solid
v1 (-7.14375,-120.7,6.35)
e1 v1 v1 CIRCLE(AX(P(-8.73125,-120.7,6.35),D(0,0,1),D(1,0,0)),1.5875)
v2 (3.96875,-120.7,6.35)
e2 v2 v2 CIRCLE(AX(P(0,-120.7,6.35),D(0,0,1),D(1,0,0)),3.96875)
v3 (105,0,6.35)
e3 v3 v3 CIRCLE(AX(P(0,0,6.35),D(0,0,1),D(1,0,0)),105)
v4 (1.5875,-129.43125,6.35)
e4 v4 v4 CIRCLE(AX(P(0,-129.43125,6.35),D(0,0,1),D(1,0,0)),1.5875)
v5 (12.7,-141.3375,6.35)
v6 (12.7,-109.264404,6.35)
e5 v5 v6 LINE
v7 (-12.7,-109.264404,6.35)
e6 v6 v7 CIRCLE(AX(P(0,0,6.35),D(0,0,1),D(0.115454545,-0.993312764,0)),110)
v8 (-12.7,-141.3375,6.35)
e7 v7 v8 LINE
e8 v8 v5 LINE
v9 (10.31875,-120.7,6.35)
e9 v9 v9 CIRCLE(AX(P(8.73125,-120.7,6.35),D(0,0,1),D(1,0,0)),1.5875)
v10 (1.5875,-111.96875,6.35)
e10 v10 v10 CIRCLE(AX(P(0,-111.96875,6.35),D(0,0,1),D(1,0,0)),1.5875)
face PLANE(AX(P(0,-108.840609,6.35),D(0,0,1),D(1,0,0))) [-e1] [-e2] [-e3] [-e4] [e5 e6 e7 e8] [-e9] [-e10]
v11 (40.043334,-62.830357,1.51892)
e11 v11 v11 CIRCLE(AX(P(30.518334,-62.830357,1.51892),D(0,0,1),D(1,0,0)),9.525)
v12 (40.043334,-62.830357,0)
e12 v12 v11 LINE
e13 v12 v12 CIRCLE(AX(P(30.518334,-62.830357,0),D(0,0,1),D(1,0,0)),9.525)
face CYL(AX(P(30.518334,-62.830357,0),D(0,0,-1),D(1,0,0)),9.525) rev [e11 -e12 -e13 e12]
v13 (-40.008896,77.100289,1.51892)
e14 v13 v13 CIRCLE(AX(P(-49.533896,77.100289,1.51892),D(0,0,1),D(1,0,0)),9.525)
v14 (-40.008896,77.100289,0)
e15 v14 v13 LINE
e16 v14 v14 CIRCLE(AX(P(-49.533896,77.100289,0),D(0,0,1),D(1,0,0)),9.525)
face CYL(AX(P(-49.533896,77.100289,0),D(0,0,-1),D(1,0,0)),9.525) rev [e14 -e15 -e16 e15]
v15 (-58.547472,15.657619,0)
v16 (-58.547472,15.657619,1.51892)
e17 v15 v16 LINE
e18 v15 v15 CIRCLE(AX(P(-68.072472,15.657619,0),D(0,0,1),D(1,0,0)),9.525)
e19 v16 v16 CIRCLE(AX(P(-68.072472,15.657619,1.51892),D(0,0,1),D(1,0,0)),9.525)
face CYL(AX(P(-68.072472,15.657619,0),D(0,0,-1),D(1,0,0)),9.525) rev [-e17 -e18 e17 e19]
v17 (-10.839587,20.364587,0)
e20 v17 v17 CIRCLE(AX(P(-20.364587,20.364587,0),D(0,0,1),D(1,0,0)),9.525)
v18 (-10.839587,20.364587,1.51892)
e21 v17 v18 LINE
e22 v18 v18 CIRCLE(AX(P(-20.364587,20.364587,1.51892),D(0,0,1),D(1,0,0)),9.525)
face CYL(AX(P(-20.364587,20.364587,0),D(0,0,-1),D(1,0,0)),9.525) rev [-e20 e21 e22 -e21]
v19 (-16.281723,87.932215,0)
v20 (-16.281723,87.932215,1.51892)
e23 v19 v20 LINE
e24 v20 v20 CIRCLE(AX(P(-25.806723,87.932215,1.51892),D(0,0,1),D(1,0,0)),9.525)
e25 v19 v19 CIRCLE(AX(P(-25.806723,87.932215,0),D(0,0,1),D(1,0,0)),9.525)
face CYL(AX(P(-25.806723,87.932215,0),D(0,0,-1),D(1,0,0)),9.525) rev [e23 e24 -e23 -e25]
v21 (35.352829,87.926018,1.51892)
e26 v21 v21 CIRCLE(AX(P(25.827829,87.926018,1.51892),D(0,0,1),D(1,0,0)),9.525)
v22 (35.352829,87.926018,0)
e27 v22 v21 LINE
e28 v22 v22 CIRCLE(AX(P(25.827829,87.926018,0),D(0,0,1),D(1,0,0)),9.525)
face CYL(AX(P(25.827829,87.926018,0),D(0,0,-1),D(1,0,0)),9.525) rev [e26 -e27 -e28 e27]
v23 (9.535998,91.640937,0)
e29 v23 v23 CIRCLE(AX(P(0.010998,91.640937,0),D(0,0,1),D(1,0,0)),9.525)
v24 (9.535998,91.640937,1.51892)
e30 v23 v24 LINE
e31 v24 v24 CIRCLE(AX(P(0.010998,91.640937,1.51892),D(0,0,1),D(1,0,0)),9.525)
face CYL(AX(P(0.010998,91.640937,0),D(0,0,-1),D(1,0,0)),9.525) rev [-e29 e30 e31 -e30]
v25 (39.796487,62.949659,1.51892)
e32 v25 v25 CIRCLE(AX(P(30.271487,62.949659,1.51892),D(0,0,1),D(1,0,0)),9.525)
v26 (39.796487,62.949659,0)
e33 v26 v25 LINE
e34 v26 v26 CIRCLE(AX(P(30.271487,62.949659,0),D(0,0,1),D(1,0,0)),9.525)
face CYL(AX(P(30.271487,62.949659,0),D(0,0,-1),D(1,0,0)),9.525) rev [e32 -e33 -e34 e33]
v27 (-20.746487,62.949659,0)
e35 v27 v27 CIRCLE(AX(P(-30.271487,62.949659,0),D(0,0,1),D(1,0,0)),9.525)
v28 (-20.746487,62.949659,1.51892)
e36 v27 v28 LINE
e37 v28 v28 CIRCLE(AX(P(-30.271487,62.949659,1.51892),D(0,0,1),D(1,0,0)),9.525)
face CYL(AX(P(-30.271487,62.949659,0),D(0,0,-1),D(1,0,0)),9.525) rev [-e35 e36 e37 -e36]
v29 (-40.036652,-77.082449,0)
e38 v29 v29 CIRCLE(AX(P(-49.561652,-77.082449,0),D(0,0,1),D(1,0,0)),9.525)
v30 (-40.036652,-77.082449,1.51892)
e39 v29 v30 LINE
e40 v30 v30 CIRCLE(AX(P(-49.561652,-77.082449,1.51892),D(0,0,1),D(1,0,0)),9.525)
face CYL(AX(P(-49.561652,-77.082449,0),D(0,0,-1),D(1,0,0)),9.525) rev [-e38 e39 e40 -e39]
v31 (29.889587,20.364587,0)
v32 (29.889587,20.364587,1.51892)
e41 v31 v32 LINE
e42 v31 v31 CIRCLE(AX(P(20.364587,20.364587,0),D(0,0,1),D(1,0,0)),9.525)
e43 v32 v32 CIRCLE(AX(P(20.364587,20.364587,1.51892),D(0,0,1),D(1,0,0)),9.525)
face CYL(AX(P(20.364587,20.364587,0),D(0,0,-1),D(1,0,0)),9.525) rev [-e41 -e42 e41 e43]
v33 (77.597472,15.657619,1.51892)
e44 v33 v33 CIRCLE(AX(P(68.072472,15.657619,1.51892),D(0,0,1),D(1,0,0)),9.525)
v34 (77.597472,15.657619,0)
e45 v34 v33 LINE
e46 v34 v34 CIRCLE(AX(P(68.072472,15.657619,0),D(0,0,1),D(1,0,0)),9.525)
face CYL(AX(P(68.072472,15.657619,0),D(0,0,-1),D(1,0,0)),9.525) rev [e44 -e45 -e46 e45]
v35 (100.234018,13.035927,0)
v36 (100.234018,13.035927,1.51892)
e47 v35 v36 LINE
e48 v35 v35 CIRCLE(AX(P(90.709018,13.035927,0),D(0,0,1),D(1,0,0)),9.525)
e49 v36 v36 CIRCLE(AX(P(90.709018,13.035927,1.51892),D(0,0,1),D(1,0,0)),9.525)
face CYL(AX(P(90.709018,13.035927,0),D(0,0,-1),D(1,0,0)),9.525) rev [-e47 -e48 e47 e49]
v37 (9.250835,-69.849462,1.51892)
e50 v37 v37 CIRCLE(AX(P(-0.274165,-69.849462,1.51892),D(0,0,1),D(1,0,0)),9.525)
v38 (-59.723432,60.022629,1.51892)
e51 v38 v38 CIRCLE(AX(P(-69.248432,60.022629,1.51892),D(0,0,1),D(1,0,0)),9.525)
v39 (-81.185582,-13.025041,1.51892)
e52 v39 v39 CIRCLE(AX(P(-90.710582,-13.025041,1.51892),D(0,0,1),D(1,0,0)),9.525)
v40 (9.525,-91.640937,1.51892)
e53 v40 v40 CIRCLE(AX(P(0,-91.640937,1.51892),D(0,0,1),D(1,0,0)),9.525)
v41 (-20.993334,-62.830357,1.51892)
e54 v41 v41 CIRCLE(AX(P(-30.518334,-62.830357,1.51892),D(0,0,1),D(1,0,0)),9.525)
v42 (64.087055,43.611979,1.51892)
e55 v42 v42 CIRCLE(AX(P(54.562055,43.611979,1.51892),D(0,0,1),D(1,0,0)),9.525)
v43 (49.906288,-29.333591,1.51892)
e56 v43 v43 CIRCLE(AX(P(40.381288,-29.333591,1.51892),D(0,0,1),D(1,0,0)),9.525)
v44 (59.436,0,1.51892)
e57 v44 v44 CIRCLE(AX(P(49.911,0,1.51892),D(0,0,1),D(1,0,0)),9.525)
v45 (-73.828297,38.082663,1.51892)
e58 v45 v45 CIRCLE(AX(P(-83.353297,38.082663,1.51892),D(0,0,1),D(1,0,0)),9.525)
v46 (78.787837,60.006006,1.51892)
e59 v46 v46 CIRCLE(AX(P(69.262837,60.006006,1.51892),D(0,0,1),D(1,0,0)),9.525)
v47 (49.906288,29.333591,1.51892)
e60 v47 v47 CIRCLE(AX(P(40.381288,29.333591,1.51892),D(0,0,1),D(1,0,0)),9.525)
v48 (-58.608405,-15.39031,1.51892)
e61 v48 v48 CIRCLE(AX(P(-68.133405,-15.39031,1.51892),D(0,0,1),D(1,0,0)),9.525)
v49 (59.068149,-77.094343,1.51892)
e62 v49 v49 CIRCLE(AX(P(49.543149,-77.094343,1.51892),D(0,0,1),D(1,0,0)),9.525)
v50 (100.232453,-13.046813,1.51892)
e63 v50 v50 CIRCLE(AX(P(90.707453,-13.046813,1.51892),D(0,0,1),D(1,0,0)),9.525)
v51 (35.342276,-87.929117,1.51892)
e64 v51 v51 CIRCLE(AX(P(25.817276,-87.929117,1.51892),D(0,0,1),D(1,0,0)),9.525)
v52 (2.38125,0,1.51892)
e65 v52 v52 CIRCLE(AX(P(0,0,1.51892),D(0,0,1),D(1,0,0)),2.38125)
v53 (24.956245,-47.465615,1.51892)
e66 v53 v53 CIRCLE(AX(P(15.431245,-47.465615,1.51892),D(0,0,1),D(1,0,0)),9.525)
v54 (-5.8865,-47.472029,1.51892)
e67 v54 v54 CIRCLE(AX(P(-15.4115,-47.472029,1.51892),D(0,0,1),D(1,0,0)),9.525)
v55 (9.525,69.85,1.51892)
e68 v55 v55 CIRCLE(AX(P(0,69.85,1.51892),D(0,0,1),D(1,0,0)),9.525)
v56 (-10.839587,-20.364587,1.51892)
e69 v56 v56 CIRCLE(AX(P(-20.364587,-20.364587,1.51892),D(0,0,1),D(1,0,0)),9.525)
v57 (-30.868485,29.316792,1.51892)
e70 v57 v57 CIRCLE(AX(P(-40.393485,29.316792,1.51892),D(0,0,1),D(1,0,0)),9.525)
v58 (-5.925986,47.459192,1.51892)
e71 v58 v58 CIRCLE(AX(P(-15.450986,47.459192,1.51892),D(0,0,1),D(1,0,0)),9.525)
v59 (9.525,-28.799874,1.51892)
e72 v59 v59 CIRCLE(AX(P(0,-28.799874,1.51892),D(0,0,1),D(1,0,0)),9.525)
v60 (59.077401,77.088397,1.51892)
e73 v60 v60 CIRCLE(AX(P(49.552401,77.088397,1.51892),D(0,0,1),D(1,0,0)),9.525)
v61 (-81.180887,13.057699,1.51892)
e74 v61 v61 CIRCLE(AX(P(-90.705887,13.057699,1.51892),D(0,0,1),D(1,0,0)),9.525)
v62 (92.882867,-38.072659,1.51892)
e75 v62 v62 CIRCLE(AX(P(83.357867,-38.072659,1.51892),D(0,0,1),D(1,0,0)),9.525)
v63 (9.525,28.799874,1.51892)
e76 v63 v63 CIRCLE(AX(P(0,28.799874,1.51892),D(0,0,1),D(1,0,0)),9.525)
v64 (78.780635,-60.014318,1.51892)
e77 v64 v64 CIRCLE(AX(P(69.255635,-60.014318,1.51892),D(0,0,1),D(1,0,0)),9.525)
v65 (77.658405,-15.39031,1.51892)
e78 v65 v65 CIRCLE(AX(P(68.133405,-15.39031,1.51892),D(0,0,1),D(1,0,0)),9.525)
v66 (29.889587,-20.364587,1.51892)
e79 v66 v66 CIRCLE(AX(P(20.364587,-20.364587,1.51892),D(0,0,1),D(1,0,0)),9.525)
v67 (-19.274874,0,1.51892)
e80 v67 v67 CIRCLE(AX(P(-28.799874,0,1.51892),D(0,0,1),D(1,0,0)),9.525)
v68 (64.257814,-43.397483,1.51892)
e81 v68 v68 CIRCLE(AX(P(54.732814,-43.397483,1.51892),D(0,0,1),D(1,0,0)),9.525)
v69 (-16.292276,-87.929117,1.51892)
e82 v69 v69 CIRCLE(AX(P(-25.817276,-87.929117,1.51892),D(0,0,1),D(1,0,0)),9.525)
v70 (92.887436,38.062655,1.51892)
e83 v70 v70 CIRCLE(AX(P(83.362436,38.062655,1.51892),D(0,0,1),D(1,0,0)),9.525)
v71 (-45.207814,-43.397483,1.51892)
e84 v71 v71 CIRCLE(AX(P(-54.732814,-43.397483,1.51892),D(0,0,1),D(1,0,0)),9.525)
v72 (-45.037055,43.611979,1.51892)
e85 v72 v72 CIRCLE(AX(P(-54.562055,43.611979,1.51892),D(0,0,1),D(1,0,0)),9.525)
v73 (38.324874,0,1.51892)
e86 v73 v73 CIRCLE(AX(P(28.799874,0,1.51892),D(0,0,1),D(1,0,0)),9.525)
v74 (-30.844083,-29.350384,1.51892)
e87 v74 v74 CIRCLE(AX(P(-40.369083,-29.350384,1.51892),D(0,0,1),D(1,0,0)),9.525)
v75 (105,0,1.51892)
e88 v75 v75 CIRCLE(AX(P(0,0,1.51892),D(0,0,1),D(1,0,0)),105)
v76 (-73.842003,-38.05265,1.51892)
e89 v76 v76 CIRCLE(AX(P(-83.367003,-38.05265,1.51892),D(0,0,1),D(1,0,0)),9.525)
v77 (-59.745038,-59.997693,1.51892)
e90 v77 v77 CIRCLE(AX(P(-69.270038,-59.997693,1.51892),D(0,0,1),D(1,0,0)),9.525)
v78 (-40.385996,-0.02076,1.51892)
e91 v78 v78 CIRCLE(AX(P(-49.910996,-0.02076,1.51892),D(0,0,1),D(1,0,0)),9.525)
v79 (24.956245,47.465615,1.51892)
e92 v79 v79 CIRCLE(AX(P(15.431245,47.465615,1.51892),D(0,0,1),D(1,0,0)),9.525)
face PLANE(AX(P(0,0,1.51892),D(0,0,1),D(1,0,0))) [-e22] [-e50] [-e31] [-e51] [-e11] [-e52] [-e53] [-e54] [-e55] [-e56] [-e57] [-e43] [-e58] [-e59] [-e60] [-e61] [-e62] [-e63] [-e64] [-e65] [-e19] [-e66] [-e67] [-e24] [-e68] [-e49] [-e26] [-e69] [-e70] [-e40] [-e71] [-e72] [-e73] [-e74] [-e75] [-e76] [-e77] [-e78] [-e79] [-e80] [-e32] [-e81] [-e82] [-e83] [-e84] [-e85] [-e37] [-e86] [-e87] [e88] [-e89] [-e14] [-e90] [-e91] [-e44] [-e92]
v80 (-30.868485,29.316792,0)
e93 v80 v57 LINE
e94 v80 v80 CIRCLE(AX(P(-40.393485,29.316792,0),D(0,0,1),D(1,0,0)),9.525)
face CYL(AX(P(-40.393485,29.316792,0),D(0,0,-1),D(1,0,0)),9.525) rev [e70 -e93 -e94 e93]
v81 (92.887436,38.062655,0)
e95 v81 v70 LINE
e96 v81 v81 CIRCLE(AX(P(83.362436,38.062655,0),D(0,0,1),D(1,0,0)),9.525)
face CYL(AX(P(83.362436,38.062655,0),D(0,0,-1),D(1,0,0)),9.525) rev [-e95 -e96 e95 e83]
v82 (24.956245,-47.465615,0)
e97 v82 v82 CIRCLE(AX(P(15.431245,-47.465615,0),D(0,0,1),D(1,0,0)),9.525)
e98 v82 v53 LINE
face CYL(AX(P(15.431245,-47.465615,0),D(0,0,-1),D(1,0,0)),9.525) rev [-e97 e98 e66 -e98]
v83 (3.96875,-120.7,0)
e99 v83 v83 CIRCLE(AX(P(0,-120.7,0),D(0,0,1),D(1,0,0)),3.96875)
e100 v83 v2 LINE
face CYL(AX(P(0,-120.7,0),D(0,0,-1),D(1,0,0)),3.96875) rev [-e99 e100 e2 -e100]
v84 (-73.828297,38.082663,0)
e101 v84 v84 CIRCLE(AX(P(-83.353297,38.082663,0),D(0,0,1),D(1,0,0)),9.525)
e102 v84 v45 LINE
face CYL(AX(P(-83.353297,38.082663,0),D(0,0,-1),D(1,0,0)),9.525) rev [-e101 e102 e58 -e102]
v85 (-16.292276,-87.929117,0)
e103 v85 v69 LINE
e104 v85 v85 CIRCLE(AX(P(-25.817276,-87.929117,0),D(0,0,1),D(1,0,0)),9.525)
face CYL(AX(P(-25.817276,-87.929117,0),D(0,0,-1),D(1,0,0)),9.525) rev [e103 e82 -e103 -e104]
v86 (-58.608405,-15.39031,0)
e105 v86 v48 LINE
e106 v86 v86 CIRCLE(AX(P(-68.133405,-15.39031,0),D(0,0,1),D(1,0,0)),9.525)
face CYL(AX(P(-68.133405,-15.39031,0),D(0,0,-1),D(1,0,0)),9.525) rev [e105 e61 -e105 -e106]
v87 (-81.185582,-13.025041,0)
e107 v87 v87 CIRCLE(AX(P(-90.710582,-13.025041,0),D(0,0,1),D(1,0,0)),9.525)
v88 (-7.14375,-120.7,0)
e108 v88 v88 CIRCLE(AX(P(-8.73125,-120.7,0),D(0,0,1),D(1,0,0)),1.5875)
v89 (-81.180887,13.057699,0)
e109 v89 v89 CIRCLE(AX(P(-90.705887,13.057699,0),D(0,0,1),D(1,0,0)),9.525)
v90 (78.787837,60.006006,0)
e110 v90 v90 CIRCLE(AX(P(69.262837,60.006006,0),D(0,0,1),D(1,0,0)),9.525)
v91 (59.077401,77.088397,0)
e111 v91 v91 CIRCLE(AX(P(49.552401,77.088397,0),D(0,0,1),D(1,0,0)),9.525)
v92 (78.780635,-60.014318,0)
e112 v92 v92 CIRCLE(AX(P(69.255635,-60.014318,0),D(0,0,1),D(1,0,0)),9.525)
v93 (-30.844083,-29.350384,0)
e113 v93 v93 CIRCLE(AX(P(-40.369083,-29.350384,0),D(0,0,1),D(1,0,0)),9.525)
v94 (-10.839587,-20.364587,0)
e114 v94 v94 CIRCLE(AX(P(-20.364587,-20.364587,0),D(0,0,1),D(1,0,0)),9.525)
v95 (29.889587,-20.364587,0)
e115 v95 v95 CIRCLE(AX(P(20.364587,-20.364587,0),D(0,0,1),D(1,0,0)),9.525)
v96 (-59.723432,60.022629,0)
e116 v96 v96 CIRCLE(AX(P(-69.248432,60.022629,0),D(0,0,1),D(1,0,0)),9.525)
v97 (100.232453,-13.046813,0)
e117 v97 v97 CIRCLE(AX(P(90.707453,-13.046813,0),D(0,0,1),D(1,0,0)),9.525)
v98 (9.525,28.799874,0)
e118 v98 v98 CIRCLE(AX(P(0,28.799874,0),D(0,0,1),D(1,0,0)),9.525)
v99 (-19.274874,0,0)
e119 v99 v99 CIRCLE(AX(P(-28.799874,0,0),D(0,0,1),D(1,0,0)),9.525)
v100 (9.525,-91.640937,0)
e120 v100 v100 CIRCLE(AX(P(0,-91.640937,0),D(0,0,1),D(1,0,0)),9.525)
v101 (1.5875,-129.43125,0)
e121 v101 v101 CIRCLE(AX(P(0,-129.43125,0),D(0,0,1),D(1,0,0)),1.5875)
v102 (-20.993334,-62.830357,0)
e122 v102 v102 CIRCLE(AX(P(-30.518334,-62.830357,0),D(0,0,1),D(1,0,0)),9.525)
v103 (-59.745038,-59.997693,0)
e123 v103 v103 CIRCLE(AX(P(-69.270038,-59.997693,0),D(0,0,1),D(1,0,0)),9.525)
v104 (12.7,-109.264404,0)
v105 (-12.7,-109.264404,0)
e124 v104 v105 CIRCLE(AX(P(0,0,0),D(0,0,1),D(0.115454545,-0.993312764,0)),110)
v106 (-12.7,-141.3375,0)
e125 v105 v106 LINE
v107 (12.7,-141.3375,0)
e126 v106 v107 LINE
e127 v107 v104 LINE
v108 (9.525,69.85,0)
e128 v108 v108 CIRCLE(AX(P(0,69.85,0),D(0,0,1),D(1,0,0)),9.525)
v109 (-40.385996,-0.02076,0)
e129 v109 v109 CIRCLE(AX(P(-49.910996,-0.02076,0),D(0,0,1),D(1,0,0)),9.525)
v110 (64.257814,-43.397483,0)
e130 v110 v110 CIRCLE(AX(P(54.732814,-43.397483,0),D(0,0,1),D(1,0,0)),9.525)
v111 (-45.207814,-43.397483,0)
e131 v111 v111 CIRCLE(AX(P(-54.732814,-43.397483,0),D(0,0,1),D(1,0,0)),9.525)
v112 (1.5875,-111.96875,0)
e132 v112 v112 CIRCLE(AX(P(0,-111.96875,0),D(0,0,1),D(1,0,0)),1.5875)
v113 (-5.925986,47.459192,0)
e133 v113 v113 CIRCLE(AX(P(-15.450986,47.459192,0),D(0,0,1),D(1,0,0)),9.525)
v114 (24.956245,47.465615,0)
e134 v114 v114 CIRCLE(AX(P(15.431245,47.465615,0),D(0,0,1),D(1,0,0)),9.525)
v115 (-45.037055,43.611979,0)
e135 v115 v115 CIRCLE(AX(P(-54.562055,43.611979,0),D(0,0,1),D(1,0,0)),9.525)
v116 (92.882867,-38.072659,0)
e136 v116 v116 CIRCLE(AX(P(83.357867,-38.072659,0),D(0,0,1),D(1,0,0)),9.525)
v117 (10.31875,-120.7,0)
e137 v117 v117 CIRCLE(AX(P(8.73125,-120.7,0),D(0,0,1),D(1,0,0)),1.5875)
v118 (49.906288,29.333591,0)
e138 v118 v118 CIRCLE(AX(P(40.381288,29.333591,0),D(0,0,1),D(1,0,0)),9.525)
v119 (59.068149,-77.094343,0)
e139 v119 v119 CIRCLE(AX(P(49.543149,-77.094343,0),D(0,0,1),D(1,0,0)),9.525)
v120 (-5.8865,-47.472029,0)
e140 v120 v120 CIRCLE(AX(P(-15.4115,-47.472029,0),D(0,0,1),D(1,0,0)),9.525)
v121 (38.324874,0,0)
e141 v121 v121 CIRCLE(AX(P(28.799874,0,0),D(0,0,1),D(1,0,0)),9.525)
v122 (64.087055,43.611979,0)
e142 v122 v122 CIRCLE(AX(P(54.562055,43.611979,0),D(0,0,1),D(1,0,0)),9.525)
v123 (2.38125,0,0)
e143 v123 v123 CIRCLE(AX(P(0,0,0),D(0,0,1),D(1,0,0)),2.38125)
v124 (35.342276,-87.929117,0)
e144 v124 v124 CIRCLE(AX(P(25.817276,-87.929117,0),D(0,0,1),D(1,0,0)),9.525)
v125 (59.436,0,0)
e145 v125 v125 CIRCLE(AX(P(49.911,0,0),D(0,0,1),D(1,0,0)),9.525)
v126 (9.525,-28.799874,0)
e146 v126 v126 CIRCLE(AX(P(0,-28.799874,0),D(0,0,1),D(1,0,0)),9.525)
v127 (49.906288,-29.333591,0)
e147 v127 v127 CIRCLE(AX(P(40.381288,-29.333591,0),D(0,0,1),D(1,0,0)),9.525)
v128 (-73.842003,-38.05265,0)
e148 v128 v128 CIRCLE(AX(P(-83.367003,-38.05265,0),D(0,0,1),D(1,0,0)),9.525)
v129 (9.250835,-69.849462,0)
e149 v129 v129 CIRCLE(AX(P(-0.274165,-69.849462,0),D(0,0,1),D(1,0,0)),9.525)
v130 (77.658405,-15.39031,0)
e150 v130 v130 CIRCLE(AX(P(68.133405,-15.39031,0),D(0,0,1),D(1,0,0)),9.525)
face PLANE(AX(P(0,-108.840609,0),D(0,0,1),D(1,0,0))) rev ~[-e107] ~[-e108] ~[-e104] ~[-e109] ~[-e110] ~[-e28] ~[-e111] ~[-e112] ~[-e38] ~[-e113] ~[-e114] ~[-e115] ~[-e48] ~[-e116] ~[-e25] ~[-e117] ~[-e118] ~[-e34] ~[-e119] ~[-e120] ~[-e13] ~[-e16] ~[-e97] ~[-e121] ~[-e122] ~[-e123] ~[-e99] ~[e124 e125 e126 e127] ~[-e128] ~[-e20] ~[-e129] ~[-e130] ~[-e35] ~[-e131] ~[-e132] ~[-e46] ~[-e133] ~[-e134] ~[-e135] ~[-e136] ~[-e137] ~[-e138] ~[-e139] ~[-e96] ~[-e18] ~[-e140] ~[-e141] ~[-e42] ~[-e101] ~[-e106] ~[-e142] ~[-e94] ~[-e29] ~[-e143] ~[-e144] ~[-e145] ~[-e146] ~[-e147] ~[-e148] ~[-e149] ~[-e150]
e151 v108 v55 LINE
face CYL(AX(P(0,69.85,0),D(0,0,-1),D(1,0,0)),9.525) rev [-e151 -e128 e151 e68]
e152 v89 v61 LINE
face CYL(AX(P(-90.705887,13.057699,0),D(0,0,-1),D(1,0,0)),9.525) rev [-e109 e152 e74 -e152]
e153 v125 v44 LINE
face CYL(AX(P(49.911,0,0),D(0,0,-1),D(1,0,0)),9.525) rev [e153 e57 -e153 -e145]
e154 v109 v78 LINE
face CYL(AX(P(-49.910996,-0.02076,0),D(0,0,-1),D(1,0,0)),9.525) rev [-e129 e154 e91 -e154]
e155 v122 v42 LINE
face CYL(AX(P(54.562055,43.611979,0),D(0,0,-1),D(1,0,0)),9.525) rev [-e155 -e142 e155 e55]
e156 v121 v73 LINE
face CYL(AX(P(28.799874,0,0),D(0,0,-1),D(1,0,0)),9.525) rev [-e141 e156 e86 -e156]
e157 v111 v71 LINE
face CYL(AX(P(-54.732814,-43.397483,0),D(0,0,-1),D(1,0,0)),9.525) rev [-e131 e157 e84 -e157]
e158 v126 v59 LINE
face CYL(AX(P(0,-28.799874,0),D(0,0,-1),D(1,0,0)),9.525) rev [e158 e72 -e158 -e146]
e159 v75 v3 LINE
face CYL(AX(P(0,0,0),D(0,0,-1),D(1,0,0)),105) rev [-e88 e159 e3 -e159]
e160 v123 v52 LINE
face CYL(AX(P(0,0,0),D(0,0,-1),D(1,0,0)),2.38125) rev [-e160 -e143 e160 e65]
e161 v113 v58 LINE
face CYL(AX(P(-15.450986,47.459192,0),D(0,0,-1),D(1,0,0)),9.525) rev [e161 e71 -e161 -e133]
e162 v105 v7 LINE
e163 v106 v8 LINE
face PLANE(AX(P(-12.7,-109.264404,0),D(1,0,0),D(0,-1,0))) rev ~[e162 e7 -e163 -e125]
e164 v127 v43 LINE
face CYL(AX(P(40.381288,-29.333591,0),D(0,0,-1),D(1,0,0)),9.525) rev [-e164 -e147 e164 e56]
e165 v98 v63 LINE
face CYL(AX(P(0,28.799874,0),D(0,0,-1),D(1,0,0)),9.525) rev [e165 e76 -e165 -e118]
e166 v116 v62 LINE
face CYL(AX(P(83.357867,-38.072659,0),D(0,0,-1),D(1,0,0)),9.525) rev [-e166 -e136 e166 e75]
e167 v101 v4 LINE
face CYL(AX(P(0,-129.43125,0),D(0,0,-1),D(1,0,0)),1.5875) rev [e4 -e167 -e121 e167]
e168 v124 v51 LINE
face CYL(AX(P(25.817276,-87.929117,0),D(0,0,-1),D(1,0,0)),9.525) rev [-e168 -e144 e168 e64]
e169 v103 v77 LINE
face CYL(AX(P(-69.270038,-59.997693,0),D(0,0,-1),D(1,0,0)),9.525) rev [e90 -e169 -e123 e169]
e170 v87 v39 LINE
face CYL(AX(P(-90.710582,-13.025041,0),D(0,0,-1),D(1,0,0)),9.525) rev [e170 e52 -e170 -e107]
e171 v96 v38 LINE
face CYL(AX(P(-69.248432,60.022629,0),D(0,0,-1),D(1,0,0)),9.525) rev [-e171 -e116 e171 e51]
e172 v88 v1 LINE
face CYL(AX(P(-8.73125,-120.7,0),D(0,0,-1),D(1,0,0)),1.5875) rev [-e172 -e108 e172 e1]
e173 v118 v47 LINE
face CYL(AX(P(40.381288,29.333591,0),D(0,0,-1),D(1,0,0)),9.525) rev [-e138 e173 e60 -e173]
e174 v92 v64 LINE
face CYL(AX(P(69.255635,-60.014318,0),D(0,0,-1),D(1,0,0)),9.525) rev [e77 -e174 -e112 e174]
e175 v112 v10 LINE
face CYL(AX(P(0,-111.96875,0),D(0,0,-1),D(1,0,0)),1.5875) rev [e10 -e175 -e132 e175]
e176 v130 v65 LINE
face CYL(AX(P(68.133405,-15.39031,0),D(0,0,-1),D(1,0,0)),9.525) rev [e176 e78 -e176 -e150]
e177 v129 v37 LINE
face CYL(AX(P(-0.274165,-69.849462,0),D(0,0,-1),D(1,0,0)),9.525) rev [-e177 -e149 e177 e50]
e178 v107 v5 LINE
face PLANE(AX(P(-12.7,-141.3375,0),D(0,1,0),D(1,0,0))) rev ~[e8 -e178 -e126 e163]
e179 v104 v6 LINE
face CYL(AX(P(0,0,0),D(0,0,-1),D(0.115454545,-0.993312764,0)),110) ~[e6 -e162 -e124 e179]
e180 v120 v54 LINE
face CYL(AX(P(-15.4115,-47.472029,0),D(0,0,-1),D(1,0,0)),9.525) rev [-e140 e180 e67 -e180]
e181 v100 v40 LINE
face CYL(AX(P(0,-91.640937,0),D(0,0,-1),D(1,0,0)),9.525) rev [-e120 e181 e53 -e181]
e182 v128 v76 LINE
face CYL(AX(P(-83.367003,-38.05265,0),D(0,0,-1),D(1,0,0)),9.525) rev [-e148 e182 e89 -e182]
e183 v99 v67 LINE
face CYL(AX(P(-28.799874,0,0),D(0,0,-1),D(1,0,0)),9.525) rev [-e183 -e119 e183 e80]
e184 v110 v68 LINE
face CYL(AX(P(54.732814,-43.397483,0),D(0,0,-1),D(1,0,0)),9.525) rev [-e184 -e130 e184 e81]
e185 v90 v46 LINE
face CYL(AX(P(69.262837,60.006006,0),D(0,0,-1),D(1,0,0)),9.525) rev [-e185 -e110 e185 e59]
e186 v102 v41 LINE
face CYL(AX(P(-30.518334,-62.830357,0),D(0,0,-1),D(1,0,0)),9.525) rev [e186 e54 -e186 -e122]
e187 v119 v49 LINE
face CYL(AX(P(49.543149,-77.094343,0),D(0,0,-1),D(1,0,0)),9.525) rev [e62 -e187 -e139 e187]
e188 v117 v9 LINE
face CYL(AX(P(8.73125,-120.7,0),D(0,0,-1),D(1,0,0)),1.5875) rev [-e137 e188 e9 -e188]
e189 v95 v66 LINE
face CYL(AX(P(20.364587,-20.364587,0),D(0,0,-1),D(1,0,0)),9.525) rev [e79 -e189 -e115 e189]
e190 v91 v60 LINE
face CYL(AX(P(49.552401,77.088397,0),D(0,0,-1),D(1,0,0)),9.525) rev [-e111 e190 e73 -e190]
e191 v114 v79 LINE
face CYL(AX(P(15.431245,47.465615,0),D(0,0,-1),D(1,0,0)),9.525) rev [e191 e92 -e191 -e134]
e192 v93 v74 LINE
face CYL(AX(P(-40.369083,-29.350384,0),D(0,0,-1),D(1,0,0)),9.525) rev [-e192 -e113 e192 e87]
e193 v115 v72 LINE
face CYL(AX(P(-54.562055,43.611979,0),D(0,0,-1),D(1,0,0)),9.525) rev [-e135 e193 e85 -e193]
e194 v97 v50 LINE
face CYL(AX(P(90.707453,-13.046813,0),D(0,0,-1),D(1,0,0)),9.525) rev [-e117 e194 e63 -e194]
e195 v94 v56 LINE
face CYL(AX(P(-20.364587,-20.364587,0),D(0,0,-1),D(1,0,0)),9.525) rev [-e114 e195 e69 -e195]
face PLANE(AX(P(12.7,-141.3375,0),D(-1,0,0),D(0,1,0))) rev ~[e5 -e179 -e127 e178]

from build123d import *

# Parameters (mm, degrees)
F0_R     = 105
F0_R_2   = 9.525
F0_R_3   = 2.38125
F1_DEPTH = 1.51892
F0_R_4   = 1.5875
F0_R_5   = 3.96875
F2_DEPTH = 6.35


with BuildPart() as f1:
    # F0 (on Top) → F1 (new body)
    with BuildSketch(Plane.XY):
        Circle(F0_R)
        with Locations((-25.8172762563, -87.9291171444)):
            Circle(F0_R_2, mode=Mode.SUBTRACT)
        with Locations((-69.2700381092, -59.9976934177)):
            Circle(F0_R_2, mode=Mode.SUBTRACT)
        with Locations((-83.3670032589, -38.0526498778)):
            Circle(F0_R_2, mode=Mode.SUBTRACT)
        with Locations((-49.5616522705, -77.0824494895)):
            Circle(F0_R_2, mode=Mode.SUBTRACT)
        with Locations((-30.5183343181, -62.8303570772)):
            Circle(F0_R_2, mode=Mode.SUBTRACT)
        with Locations((-0.2741651524, -69.8494619412)):
            Circle(F0_R_2, mode=Mode.SUBTRACT)
        with Locations((-15.4115002745, -47.472029452)):
            Circle(F0_R_2, mode=Mode.SUBTRACT)
        with Locations((-54.7328139874, -43.3974834872)):
            Circle(F0_R_2, mode=Mode.SUBTRACT)
        with Locations((-40.369082958, -29.3503843608)):
            Circle(F0_R_2, mode=Mode.SUBTRACT)
        with Locations((-20.3645865451, -20.3645865451)):
            Circle(F0_R_2, mode=Mode.SUBTRACT)
        with Locations((0, -91.640937332)):
            Circle(F0_R_2, mode=Mode.SUBTRACT)
        with Locations((25.8172762563, -87.9291171444)):
            Circle(F0_R_2, mode=Mode.SUBTRACT)
        with Locations((15.4312446271, -47.4656150309)):
            Circle(F0_R_2, mode=Mode.SUBTRACT)
        with Locations((30.5183343181, -62.8303570772)):
            Circle(F0_R_2, mode=Mode.SUBTRACT)
        with Locations((49.5431490419, -77.0943433599)):
            Circle(F0_R_2, mode=Mode.SUBTRACT)
        with Locations((0, -28.7998744842)):
            Circle(F0_R_2, mode=Mode.SUBTRACT)
        with Locations((20.3645865451, -20.3645865451)):
            Circle(F0_R_2, mode=Mode.SUBTRACT)
        with Locations((54.7328139874, -43.3974834872)):
            Circle(F0_R_2, mode=Mode.SUBTRACT)
        with Locations((40.3812875698, -29.3335905611)):
            Circle(F0_R_2, mode=Mode.SUBTRACT)
        with Locations((69.2556351005, -60.0143183075)):
            Circle(F0_R_2, mode=Mode.SUBTRACT)
        with Locations((83.3578672276, -38.0726590396)):
            Circle(F0_R_2, mode=Mode.SUBTRACT)
        with Locations((-90.7105821014, -13.0250408793)):
            Circle(F0_R_2, mode=Mode.SUBTRACT)
        with Locations((-90.7058866972, 13.0576993976)):
            Circle(F0_R_2, mode=Mode.SUBTRACT)
        with Locations((-68.1334048588, -15.3903100147)):
            Circle(F0_R_2, mode=Mode.SUBTRACT)
        with Locations((-68.0724721963, 15.6576188828)):
            Circle(F0_R_2, mode=Mode.SUBTRACT)
        with Locations((-83.3532974111, 38.082662798)):
            Circle(F0_R_2, mode=Mode.SUBTRACT)
        with Locations((-49.9109956825, -0.0207601598)):
            Circle(F0_R_2, mode=Mode.SUBTRACT)
        with Locations((-28.7998744842, 0)):
            Circle(F0_R_2, mode=Mode.SUBTRACT)
        with Locations((-40.3934851952, 29.3167916865)):
            Circle(F0_R_2, mode=Mode.SUBTRACT)
        with Locations((-54.5620548299, 43.6119785464)):
            Circle(F0_R_2, mode=Mode.SUBTRACT)
        with Locations((-20.3645865451, 20.3645865451)):
            Circle(F0_R_2, mode=Mode.SUBTRACT)
        with Locations((-69.2484320998, 60.0226294559)):
            Circle(F0_R_2, mode=Mode.SUBTRACT)
        with Locations((-49.5338963572, 77.1002886296)):
            Circle(F0_R_2, mode=Mode.SUBTRACT)
        with Locations((-30.2714865718, 62.9496592583)):
            Circle(F0_R_2, mode=Mode.SUBTRACT)
        with Locations((-15.4509863099, 47.4591923978)):
            Circle(F0_R_2, mode=Mode.SUBTRACT)
        with Locations((-25.8067234281, 87.9322149214)):
            Circle(F0_R_2, mode=Mode.SUBTRACT)
        Circle(F0_R_3, mode=Mode.SUBTRACT)
        with Locations((28.7998744842, 0)):
            Circle(F0_R_2, mode=Mode.SUBTRACT)
        with Locations((49.911, 0)):
            Circle(F0_R_2, mode=Mode.SUBTRACT)
        with Locations((0, 28.7998744842)):
            Circle(F0_R_2, mode=Mode.SUBTRACT)
        with Locations((20.3645865451, 20.3645865451)):
            Circle(F0_R_2, mode=Mode.SUBTRACT)
        with Locations((40.3812875698, 29.3335905611)):
            Circle(F0_R_2, mode=Mode.SUBTRACT)
        with Locations((54.5620548299, 43.6119785464)):
            Circle(F0_R_2, mode=Mode.SUBTRACT)
        with Locations((68.1334048588, -15.3903100147)):
            Circle(F0_R_2, mode=Mode.SUBTRACT)
        with Locations((68.0724721963, 15.6576188828)):
            Circle(F0_R_2, mode=Mode.SUBTRACT)
        with Locations((90.7074531384, -13.0468134127)):
            Circle(F0_R_2, mode=Mode.SUBTRACT)
        with Locations((90.7090182732, 13.0359272399)):
            Circle(F0_R_2, mode=Mode.SUBTRACT)
        with Locations((83.3624358436, 38.0626547328)):
            Circle(F0_R_2, mode=Mode.SUBTRACT)
        with Locations((15.4312446271, 47.4656150309)):
            Circle(F0_R_2, mode=Mode.SUBTRACT)
        with Locations((0, 69.85)):
            Circle(F0_R_2, mode=Mode.SUBTRACT)
        with Locations((30.2714865718, 62.9496592583)):
            Circle(F0_R_2, mode=Mode.SUBTRACT)
        with Locations((49.5524010131, 77.0883969799)):
            Circle(F0_R_2, mode=Mode.SUBTRACT)
        with Locations((0.0109981092, 91.640936672)):
            Circle(F0_R_2, mode=Mode.SUBTRACT)
        with Locations((25.8278287127, 87.9260181009)):
            Circle(F0_R_2, mode=Mode.SUBTRACT)
        with Locations((69.2628371036, 60.0060062947)):
            Circle(F0_R_2, mode=Mode.SUBTRACT)
    extrude(amount=F1_DEPTH)

    # F0 (on Top) → F2 (join)
    with BuildSketch(Plane.XY):
        with BuildLine():
            Line((-12.7, -108), (-12.7, -109.2644040848))
            ThreePointArc((-12.7, -109.2644040848), (0, -110), (12.7, -109.2644040848))
            Line((12.7, -109.2644040848), (12.7, -108))
            Line((12.7, -108), (-12.7, -108))
        make_face()
        with BuildLine():
            ThreePointArc((12.7, -109.2644040848), (82.1492544093, -73.1539472619), (110, 0))
            ThreePointArc((110, 0), (-73.1539472619, 82.1492544093), (-12.7, -109.2644040848))
            Line((-12.7, -109.2644040848), (-12.7, -108))
            Line((-12.7, -108), (12.7, -108))
            Line((12.7, -108), (12.7, -109.2644040848))
        make_face()
        Circle(F0_R, mode=Mode.SUBTRACT)
        with BuildLine():
            ThreePointArc((12.7, -109.2644040848), (0, -110), (-12.7, -109.2644040848))
            Line((-12.7, -109.2644040848), (-12.7, -141.3375))
            Line((-12.7, -141.3375), (12.7, -141.3375))
            Line((12.7, -141.3375), (12.7, -109.2644040848))
        make_face()
        with Locations((-8.73125, -120.7)):
            Circle(F0_R_4, mode=Mode.SUBTRACT)
        with Locations((0, -129.43125)):
            Circle(F0_R_4, mode=Mode.SUBTRACT)
        with Locations((0, -120.7)):
            Circle(F0_R_5, mode=Mode.SUBTRACT)
        with Locations((8.73125, -120.7)):
            Circle(F0_R_4, mode=Mode.SUBTRACT)
        with Locations((0, -111.96875)):
            Circle(F0_R_4, mode=Mode.SUBTRACT)
    extrude(amount=F2_DEPTH)


solid = f1.part
